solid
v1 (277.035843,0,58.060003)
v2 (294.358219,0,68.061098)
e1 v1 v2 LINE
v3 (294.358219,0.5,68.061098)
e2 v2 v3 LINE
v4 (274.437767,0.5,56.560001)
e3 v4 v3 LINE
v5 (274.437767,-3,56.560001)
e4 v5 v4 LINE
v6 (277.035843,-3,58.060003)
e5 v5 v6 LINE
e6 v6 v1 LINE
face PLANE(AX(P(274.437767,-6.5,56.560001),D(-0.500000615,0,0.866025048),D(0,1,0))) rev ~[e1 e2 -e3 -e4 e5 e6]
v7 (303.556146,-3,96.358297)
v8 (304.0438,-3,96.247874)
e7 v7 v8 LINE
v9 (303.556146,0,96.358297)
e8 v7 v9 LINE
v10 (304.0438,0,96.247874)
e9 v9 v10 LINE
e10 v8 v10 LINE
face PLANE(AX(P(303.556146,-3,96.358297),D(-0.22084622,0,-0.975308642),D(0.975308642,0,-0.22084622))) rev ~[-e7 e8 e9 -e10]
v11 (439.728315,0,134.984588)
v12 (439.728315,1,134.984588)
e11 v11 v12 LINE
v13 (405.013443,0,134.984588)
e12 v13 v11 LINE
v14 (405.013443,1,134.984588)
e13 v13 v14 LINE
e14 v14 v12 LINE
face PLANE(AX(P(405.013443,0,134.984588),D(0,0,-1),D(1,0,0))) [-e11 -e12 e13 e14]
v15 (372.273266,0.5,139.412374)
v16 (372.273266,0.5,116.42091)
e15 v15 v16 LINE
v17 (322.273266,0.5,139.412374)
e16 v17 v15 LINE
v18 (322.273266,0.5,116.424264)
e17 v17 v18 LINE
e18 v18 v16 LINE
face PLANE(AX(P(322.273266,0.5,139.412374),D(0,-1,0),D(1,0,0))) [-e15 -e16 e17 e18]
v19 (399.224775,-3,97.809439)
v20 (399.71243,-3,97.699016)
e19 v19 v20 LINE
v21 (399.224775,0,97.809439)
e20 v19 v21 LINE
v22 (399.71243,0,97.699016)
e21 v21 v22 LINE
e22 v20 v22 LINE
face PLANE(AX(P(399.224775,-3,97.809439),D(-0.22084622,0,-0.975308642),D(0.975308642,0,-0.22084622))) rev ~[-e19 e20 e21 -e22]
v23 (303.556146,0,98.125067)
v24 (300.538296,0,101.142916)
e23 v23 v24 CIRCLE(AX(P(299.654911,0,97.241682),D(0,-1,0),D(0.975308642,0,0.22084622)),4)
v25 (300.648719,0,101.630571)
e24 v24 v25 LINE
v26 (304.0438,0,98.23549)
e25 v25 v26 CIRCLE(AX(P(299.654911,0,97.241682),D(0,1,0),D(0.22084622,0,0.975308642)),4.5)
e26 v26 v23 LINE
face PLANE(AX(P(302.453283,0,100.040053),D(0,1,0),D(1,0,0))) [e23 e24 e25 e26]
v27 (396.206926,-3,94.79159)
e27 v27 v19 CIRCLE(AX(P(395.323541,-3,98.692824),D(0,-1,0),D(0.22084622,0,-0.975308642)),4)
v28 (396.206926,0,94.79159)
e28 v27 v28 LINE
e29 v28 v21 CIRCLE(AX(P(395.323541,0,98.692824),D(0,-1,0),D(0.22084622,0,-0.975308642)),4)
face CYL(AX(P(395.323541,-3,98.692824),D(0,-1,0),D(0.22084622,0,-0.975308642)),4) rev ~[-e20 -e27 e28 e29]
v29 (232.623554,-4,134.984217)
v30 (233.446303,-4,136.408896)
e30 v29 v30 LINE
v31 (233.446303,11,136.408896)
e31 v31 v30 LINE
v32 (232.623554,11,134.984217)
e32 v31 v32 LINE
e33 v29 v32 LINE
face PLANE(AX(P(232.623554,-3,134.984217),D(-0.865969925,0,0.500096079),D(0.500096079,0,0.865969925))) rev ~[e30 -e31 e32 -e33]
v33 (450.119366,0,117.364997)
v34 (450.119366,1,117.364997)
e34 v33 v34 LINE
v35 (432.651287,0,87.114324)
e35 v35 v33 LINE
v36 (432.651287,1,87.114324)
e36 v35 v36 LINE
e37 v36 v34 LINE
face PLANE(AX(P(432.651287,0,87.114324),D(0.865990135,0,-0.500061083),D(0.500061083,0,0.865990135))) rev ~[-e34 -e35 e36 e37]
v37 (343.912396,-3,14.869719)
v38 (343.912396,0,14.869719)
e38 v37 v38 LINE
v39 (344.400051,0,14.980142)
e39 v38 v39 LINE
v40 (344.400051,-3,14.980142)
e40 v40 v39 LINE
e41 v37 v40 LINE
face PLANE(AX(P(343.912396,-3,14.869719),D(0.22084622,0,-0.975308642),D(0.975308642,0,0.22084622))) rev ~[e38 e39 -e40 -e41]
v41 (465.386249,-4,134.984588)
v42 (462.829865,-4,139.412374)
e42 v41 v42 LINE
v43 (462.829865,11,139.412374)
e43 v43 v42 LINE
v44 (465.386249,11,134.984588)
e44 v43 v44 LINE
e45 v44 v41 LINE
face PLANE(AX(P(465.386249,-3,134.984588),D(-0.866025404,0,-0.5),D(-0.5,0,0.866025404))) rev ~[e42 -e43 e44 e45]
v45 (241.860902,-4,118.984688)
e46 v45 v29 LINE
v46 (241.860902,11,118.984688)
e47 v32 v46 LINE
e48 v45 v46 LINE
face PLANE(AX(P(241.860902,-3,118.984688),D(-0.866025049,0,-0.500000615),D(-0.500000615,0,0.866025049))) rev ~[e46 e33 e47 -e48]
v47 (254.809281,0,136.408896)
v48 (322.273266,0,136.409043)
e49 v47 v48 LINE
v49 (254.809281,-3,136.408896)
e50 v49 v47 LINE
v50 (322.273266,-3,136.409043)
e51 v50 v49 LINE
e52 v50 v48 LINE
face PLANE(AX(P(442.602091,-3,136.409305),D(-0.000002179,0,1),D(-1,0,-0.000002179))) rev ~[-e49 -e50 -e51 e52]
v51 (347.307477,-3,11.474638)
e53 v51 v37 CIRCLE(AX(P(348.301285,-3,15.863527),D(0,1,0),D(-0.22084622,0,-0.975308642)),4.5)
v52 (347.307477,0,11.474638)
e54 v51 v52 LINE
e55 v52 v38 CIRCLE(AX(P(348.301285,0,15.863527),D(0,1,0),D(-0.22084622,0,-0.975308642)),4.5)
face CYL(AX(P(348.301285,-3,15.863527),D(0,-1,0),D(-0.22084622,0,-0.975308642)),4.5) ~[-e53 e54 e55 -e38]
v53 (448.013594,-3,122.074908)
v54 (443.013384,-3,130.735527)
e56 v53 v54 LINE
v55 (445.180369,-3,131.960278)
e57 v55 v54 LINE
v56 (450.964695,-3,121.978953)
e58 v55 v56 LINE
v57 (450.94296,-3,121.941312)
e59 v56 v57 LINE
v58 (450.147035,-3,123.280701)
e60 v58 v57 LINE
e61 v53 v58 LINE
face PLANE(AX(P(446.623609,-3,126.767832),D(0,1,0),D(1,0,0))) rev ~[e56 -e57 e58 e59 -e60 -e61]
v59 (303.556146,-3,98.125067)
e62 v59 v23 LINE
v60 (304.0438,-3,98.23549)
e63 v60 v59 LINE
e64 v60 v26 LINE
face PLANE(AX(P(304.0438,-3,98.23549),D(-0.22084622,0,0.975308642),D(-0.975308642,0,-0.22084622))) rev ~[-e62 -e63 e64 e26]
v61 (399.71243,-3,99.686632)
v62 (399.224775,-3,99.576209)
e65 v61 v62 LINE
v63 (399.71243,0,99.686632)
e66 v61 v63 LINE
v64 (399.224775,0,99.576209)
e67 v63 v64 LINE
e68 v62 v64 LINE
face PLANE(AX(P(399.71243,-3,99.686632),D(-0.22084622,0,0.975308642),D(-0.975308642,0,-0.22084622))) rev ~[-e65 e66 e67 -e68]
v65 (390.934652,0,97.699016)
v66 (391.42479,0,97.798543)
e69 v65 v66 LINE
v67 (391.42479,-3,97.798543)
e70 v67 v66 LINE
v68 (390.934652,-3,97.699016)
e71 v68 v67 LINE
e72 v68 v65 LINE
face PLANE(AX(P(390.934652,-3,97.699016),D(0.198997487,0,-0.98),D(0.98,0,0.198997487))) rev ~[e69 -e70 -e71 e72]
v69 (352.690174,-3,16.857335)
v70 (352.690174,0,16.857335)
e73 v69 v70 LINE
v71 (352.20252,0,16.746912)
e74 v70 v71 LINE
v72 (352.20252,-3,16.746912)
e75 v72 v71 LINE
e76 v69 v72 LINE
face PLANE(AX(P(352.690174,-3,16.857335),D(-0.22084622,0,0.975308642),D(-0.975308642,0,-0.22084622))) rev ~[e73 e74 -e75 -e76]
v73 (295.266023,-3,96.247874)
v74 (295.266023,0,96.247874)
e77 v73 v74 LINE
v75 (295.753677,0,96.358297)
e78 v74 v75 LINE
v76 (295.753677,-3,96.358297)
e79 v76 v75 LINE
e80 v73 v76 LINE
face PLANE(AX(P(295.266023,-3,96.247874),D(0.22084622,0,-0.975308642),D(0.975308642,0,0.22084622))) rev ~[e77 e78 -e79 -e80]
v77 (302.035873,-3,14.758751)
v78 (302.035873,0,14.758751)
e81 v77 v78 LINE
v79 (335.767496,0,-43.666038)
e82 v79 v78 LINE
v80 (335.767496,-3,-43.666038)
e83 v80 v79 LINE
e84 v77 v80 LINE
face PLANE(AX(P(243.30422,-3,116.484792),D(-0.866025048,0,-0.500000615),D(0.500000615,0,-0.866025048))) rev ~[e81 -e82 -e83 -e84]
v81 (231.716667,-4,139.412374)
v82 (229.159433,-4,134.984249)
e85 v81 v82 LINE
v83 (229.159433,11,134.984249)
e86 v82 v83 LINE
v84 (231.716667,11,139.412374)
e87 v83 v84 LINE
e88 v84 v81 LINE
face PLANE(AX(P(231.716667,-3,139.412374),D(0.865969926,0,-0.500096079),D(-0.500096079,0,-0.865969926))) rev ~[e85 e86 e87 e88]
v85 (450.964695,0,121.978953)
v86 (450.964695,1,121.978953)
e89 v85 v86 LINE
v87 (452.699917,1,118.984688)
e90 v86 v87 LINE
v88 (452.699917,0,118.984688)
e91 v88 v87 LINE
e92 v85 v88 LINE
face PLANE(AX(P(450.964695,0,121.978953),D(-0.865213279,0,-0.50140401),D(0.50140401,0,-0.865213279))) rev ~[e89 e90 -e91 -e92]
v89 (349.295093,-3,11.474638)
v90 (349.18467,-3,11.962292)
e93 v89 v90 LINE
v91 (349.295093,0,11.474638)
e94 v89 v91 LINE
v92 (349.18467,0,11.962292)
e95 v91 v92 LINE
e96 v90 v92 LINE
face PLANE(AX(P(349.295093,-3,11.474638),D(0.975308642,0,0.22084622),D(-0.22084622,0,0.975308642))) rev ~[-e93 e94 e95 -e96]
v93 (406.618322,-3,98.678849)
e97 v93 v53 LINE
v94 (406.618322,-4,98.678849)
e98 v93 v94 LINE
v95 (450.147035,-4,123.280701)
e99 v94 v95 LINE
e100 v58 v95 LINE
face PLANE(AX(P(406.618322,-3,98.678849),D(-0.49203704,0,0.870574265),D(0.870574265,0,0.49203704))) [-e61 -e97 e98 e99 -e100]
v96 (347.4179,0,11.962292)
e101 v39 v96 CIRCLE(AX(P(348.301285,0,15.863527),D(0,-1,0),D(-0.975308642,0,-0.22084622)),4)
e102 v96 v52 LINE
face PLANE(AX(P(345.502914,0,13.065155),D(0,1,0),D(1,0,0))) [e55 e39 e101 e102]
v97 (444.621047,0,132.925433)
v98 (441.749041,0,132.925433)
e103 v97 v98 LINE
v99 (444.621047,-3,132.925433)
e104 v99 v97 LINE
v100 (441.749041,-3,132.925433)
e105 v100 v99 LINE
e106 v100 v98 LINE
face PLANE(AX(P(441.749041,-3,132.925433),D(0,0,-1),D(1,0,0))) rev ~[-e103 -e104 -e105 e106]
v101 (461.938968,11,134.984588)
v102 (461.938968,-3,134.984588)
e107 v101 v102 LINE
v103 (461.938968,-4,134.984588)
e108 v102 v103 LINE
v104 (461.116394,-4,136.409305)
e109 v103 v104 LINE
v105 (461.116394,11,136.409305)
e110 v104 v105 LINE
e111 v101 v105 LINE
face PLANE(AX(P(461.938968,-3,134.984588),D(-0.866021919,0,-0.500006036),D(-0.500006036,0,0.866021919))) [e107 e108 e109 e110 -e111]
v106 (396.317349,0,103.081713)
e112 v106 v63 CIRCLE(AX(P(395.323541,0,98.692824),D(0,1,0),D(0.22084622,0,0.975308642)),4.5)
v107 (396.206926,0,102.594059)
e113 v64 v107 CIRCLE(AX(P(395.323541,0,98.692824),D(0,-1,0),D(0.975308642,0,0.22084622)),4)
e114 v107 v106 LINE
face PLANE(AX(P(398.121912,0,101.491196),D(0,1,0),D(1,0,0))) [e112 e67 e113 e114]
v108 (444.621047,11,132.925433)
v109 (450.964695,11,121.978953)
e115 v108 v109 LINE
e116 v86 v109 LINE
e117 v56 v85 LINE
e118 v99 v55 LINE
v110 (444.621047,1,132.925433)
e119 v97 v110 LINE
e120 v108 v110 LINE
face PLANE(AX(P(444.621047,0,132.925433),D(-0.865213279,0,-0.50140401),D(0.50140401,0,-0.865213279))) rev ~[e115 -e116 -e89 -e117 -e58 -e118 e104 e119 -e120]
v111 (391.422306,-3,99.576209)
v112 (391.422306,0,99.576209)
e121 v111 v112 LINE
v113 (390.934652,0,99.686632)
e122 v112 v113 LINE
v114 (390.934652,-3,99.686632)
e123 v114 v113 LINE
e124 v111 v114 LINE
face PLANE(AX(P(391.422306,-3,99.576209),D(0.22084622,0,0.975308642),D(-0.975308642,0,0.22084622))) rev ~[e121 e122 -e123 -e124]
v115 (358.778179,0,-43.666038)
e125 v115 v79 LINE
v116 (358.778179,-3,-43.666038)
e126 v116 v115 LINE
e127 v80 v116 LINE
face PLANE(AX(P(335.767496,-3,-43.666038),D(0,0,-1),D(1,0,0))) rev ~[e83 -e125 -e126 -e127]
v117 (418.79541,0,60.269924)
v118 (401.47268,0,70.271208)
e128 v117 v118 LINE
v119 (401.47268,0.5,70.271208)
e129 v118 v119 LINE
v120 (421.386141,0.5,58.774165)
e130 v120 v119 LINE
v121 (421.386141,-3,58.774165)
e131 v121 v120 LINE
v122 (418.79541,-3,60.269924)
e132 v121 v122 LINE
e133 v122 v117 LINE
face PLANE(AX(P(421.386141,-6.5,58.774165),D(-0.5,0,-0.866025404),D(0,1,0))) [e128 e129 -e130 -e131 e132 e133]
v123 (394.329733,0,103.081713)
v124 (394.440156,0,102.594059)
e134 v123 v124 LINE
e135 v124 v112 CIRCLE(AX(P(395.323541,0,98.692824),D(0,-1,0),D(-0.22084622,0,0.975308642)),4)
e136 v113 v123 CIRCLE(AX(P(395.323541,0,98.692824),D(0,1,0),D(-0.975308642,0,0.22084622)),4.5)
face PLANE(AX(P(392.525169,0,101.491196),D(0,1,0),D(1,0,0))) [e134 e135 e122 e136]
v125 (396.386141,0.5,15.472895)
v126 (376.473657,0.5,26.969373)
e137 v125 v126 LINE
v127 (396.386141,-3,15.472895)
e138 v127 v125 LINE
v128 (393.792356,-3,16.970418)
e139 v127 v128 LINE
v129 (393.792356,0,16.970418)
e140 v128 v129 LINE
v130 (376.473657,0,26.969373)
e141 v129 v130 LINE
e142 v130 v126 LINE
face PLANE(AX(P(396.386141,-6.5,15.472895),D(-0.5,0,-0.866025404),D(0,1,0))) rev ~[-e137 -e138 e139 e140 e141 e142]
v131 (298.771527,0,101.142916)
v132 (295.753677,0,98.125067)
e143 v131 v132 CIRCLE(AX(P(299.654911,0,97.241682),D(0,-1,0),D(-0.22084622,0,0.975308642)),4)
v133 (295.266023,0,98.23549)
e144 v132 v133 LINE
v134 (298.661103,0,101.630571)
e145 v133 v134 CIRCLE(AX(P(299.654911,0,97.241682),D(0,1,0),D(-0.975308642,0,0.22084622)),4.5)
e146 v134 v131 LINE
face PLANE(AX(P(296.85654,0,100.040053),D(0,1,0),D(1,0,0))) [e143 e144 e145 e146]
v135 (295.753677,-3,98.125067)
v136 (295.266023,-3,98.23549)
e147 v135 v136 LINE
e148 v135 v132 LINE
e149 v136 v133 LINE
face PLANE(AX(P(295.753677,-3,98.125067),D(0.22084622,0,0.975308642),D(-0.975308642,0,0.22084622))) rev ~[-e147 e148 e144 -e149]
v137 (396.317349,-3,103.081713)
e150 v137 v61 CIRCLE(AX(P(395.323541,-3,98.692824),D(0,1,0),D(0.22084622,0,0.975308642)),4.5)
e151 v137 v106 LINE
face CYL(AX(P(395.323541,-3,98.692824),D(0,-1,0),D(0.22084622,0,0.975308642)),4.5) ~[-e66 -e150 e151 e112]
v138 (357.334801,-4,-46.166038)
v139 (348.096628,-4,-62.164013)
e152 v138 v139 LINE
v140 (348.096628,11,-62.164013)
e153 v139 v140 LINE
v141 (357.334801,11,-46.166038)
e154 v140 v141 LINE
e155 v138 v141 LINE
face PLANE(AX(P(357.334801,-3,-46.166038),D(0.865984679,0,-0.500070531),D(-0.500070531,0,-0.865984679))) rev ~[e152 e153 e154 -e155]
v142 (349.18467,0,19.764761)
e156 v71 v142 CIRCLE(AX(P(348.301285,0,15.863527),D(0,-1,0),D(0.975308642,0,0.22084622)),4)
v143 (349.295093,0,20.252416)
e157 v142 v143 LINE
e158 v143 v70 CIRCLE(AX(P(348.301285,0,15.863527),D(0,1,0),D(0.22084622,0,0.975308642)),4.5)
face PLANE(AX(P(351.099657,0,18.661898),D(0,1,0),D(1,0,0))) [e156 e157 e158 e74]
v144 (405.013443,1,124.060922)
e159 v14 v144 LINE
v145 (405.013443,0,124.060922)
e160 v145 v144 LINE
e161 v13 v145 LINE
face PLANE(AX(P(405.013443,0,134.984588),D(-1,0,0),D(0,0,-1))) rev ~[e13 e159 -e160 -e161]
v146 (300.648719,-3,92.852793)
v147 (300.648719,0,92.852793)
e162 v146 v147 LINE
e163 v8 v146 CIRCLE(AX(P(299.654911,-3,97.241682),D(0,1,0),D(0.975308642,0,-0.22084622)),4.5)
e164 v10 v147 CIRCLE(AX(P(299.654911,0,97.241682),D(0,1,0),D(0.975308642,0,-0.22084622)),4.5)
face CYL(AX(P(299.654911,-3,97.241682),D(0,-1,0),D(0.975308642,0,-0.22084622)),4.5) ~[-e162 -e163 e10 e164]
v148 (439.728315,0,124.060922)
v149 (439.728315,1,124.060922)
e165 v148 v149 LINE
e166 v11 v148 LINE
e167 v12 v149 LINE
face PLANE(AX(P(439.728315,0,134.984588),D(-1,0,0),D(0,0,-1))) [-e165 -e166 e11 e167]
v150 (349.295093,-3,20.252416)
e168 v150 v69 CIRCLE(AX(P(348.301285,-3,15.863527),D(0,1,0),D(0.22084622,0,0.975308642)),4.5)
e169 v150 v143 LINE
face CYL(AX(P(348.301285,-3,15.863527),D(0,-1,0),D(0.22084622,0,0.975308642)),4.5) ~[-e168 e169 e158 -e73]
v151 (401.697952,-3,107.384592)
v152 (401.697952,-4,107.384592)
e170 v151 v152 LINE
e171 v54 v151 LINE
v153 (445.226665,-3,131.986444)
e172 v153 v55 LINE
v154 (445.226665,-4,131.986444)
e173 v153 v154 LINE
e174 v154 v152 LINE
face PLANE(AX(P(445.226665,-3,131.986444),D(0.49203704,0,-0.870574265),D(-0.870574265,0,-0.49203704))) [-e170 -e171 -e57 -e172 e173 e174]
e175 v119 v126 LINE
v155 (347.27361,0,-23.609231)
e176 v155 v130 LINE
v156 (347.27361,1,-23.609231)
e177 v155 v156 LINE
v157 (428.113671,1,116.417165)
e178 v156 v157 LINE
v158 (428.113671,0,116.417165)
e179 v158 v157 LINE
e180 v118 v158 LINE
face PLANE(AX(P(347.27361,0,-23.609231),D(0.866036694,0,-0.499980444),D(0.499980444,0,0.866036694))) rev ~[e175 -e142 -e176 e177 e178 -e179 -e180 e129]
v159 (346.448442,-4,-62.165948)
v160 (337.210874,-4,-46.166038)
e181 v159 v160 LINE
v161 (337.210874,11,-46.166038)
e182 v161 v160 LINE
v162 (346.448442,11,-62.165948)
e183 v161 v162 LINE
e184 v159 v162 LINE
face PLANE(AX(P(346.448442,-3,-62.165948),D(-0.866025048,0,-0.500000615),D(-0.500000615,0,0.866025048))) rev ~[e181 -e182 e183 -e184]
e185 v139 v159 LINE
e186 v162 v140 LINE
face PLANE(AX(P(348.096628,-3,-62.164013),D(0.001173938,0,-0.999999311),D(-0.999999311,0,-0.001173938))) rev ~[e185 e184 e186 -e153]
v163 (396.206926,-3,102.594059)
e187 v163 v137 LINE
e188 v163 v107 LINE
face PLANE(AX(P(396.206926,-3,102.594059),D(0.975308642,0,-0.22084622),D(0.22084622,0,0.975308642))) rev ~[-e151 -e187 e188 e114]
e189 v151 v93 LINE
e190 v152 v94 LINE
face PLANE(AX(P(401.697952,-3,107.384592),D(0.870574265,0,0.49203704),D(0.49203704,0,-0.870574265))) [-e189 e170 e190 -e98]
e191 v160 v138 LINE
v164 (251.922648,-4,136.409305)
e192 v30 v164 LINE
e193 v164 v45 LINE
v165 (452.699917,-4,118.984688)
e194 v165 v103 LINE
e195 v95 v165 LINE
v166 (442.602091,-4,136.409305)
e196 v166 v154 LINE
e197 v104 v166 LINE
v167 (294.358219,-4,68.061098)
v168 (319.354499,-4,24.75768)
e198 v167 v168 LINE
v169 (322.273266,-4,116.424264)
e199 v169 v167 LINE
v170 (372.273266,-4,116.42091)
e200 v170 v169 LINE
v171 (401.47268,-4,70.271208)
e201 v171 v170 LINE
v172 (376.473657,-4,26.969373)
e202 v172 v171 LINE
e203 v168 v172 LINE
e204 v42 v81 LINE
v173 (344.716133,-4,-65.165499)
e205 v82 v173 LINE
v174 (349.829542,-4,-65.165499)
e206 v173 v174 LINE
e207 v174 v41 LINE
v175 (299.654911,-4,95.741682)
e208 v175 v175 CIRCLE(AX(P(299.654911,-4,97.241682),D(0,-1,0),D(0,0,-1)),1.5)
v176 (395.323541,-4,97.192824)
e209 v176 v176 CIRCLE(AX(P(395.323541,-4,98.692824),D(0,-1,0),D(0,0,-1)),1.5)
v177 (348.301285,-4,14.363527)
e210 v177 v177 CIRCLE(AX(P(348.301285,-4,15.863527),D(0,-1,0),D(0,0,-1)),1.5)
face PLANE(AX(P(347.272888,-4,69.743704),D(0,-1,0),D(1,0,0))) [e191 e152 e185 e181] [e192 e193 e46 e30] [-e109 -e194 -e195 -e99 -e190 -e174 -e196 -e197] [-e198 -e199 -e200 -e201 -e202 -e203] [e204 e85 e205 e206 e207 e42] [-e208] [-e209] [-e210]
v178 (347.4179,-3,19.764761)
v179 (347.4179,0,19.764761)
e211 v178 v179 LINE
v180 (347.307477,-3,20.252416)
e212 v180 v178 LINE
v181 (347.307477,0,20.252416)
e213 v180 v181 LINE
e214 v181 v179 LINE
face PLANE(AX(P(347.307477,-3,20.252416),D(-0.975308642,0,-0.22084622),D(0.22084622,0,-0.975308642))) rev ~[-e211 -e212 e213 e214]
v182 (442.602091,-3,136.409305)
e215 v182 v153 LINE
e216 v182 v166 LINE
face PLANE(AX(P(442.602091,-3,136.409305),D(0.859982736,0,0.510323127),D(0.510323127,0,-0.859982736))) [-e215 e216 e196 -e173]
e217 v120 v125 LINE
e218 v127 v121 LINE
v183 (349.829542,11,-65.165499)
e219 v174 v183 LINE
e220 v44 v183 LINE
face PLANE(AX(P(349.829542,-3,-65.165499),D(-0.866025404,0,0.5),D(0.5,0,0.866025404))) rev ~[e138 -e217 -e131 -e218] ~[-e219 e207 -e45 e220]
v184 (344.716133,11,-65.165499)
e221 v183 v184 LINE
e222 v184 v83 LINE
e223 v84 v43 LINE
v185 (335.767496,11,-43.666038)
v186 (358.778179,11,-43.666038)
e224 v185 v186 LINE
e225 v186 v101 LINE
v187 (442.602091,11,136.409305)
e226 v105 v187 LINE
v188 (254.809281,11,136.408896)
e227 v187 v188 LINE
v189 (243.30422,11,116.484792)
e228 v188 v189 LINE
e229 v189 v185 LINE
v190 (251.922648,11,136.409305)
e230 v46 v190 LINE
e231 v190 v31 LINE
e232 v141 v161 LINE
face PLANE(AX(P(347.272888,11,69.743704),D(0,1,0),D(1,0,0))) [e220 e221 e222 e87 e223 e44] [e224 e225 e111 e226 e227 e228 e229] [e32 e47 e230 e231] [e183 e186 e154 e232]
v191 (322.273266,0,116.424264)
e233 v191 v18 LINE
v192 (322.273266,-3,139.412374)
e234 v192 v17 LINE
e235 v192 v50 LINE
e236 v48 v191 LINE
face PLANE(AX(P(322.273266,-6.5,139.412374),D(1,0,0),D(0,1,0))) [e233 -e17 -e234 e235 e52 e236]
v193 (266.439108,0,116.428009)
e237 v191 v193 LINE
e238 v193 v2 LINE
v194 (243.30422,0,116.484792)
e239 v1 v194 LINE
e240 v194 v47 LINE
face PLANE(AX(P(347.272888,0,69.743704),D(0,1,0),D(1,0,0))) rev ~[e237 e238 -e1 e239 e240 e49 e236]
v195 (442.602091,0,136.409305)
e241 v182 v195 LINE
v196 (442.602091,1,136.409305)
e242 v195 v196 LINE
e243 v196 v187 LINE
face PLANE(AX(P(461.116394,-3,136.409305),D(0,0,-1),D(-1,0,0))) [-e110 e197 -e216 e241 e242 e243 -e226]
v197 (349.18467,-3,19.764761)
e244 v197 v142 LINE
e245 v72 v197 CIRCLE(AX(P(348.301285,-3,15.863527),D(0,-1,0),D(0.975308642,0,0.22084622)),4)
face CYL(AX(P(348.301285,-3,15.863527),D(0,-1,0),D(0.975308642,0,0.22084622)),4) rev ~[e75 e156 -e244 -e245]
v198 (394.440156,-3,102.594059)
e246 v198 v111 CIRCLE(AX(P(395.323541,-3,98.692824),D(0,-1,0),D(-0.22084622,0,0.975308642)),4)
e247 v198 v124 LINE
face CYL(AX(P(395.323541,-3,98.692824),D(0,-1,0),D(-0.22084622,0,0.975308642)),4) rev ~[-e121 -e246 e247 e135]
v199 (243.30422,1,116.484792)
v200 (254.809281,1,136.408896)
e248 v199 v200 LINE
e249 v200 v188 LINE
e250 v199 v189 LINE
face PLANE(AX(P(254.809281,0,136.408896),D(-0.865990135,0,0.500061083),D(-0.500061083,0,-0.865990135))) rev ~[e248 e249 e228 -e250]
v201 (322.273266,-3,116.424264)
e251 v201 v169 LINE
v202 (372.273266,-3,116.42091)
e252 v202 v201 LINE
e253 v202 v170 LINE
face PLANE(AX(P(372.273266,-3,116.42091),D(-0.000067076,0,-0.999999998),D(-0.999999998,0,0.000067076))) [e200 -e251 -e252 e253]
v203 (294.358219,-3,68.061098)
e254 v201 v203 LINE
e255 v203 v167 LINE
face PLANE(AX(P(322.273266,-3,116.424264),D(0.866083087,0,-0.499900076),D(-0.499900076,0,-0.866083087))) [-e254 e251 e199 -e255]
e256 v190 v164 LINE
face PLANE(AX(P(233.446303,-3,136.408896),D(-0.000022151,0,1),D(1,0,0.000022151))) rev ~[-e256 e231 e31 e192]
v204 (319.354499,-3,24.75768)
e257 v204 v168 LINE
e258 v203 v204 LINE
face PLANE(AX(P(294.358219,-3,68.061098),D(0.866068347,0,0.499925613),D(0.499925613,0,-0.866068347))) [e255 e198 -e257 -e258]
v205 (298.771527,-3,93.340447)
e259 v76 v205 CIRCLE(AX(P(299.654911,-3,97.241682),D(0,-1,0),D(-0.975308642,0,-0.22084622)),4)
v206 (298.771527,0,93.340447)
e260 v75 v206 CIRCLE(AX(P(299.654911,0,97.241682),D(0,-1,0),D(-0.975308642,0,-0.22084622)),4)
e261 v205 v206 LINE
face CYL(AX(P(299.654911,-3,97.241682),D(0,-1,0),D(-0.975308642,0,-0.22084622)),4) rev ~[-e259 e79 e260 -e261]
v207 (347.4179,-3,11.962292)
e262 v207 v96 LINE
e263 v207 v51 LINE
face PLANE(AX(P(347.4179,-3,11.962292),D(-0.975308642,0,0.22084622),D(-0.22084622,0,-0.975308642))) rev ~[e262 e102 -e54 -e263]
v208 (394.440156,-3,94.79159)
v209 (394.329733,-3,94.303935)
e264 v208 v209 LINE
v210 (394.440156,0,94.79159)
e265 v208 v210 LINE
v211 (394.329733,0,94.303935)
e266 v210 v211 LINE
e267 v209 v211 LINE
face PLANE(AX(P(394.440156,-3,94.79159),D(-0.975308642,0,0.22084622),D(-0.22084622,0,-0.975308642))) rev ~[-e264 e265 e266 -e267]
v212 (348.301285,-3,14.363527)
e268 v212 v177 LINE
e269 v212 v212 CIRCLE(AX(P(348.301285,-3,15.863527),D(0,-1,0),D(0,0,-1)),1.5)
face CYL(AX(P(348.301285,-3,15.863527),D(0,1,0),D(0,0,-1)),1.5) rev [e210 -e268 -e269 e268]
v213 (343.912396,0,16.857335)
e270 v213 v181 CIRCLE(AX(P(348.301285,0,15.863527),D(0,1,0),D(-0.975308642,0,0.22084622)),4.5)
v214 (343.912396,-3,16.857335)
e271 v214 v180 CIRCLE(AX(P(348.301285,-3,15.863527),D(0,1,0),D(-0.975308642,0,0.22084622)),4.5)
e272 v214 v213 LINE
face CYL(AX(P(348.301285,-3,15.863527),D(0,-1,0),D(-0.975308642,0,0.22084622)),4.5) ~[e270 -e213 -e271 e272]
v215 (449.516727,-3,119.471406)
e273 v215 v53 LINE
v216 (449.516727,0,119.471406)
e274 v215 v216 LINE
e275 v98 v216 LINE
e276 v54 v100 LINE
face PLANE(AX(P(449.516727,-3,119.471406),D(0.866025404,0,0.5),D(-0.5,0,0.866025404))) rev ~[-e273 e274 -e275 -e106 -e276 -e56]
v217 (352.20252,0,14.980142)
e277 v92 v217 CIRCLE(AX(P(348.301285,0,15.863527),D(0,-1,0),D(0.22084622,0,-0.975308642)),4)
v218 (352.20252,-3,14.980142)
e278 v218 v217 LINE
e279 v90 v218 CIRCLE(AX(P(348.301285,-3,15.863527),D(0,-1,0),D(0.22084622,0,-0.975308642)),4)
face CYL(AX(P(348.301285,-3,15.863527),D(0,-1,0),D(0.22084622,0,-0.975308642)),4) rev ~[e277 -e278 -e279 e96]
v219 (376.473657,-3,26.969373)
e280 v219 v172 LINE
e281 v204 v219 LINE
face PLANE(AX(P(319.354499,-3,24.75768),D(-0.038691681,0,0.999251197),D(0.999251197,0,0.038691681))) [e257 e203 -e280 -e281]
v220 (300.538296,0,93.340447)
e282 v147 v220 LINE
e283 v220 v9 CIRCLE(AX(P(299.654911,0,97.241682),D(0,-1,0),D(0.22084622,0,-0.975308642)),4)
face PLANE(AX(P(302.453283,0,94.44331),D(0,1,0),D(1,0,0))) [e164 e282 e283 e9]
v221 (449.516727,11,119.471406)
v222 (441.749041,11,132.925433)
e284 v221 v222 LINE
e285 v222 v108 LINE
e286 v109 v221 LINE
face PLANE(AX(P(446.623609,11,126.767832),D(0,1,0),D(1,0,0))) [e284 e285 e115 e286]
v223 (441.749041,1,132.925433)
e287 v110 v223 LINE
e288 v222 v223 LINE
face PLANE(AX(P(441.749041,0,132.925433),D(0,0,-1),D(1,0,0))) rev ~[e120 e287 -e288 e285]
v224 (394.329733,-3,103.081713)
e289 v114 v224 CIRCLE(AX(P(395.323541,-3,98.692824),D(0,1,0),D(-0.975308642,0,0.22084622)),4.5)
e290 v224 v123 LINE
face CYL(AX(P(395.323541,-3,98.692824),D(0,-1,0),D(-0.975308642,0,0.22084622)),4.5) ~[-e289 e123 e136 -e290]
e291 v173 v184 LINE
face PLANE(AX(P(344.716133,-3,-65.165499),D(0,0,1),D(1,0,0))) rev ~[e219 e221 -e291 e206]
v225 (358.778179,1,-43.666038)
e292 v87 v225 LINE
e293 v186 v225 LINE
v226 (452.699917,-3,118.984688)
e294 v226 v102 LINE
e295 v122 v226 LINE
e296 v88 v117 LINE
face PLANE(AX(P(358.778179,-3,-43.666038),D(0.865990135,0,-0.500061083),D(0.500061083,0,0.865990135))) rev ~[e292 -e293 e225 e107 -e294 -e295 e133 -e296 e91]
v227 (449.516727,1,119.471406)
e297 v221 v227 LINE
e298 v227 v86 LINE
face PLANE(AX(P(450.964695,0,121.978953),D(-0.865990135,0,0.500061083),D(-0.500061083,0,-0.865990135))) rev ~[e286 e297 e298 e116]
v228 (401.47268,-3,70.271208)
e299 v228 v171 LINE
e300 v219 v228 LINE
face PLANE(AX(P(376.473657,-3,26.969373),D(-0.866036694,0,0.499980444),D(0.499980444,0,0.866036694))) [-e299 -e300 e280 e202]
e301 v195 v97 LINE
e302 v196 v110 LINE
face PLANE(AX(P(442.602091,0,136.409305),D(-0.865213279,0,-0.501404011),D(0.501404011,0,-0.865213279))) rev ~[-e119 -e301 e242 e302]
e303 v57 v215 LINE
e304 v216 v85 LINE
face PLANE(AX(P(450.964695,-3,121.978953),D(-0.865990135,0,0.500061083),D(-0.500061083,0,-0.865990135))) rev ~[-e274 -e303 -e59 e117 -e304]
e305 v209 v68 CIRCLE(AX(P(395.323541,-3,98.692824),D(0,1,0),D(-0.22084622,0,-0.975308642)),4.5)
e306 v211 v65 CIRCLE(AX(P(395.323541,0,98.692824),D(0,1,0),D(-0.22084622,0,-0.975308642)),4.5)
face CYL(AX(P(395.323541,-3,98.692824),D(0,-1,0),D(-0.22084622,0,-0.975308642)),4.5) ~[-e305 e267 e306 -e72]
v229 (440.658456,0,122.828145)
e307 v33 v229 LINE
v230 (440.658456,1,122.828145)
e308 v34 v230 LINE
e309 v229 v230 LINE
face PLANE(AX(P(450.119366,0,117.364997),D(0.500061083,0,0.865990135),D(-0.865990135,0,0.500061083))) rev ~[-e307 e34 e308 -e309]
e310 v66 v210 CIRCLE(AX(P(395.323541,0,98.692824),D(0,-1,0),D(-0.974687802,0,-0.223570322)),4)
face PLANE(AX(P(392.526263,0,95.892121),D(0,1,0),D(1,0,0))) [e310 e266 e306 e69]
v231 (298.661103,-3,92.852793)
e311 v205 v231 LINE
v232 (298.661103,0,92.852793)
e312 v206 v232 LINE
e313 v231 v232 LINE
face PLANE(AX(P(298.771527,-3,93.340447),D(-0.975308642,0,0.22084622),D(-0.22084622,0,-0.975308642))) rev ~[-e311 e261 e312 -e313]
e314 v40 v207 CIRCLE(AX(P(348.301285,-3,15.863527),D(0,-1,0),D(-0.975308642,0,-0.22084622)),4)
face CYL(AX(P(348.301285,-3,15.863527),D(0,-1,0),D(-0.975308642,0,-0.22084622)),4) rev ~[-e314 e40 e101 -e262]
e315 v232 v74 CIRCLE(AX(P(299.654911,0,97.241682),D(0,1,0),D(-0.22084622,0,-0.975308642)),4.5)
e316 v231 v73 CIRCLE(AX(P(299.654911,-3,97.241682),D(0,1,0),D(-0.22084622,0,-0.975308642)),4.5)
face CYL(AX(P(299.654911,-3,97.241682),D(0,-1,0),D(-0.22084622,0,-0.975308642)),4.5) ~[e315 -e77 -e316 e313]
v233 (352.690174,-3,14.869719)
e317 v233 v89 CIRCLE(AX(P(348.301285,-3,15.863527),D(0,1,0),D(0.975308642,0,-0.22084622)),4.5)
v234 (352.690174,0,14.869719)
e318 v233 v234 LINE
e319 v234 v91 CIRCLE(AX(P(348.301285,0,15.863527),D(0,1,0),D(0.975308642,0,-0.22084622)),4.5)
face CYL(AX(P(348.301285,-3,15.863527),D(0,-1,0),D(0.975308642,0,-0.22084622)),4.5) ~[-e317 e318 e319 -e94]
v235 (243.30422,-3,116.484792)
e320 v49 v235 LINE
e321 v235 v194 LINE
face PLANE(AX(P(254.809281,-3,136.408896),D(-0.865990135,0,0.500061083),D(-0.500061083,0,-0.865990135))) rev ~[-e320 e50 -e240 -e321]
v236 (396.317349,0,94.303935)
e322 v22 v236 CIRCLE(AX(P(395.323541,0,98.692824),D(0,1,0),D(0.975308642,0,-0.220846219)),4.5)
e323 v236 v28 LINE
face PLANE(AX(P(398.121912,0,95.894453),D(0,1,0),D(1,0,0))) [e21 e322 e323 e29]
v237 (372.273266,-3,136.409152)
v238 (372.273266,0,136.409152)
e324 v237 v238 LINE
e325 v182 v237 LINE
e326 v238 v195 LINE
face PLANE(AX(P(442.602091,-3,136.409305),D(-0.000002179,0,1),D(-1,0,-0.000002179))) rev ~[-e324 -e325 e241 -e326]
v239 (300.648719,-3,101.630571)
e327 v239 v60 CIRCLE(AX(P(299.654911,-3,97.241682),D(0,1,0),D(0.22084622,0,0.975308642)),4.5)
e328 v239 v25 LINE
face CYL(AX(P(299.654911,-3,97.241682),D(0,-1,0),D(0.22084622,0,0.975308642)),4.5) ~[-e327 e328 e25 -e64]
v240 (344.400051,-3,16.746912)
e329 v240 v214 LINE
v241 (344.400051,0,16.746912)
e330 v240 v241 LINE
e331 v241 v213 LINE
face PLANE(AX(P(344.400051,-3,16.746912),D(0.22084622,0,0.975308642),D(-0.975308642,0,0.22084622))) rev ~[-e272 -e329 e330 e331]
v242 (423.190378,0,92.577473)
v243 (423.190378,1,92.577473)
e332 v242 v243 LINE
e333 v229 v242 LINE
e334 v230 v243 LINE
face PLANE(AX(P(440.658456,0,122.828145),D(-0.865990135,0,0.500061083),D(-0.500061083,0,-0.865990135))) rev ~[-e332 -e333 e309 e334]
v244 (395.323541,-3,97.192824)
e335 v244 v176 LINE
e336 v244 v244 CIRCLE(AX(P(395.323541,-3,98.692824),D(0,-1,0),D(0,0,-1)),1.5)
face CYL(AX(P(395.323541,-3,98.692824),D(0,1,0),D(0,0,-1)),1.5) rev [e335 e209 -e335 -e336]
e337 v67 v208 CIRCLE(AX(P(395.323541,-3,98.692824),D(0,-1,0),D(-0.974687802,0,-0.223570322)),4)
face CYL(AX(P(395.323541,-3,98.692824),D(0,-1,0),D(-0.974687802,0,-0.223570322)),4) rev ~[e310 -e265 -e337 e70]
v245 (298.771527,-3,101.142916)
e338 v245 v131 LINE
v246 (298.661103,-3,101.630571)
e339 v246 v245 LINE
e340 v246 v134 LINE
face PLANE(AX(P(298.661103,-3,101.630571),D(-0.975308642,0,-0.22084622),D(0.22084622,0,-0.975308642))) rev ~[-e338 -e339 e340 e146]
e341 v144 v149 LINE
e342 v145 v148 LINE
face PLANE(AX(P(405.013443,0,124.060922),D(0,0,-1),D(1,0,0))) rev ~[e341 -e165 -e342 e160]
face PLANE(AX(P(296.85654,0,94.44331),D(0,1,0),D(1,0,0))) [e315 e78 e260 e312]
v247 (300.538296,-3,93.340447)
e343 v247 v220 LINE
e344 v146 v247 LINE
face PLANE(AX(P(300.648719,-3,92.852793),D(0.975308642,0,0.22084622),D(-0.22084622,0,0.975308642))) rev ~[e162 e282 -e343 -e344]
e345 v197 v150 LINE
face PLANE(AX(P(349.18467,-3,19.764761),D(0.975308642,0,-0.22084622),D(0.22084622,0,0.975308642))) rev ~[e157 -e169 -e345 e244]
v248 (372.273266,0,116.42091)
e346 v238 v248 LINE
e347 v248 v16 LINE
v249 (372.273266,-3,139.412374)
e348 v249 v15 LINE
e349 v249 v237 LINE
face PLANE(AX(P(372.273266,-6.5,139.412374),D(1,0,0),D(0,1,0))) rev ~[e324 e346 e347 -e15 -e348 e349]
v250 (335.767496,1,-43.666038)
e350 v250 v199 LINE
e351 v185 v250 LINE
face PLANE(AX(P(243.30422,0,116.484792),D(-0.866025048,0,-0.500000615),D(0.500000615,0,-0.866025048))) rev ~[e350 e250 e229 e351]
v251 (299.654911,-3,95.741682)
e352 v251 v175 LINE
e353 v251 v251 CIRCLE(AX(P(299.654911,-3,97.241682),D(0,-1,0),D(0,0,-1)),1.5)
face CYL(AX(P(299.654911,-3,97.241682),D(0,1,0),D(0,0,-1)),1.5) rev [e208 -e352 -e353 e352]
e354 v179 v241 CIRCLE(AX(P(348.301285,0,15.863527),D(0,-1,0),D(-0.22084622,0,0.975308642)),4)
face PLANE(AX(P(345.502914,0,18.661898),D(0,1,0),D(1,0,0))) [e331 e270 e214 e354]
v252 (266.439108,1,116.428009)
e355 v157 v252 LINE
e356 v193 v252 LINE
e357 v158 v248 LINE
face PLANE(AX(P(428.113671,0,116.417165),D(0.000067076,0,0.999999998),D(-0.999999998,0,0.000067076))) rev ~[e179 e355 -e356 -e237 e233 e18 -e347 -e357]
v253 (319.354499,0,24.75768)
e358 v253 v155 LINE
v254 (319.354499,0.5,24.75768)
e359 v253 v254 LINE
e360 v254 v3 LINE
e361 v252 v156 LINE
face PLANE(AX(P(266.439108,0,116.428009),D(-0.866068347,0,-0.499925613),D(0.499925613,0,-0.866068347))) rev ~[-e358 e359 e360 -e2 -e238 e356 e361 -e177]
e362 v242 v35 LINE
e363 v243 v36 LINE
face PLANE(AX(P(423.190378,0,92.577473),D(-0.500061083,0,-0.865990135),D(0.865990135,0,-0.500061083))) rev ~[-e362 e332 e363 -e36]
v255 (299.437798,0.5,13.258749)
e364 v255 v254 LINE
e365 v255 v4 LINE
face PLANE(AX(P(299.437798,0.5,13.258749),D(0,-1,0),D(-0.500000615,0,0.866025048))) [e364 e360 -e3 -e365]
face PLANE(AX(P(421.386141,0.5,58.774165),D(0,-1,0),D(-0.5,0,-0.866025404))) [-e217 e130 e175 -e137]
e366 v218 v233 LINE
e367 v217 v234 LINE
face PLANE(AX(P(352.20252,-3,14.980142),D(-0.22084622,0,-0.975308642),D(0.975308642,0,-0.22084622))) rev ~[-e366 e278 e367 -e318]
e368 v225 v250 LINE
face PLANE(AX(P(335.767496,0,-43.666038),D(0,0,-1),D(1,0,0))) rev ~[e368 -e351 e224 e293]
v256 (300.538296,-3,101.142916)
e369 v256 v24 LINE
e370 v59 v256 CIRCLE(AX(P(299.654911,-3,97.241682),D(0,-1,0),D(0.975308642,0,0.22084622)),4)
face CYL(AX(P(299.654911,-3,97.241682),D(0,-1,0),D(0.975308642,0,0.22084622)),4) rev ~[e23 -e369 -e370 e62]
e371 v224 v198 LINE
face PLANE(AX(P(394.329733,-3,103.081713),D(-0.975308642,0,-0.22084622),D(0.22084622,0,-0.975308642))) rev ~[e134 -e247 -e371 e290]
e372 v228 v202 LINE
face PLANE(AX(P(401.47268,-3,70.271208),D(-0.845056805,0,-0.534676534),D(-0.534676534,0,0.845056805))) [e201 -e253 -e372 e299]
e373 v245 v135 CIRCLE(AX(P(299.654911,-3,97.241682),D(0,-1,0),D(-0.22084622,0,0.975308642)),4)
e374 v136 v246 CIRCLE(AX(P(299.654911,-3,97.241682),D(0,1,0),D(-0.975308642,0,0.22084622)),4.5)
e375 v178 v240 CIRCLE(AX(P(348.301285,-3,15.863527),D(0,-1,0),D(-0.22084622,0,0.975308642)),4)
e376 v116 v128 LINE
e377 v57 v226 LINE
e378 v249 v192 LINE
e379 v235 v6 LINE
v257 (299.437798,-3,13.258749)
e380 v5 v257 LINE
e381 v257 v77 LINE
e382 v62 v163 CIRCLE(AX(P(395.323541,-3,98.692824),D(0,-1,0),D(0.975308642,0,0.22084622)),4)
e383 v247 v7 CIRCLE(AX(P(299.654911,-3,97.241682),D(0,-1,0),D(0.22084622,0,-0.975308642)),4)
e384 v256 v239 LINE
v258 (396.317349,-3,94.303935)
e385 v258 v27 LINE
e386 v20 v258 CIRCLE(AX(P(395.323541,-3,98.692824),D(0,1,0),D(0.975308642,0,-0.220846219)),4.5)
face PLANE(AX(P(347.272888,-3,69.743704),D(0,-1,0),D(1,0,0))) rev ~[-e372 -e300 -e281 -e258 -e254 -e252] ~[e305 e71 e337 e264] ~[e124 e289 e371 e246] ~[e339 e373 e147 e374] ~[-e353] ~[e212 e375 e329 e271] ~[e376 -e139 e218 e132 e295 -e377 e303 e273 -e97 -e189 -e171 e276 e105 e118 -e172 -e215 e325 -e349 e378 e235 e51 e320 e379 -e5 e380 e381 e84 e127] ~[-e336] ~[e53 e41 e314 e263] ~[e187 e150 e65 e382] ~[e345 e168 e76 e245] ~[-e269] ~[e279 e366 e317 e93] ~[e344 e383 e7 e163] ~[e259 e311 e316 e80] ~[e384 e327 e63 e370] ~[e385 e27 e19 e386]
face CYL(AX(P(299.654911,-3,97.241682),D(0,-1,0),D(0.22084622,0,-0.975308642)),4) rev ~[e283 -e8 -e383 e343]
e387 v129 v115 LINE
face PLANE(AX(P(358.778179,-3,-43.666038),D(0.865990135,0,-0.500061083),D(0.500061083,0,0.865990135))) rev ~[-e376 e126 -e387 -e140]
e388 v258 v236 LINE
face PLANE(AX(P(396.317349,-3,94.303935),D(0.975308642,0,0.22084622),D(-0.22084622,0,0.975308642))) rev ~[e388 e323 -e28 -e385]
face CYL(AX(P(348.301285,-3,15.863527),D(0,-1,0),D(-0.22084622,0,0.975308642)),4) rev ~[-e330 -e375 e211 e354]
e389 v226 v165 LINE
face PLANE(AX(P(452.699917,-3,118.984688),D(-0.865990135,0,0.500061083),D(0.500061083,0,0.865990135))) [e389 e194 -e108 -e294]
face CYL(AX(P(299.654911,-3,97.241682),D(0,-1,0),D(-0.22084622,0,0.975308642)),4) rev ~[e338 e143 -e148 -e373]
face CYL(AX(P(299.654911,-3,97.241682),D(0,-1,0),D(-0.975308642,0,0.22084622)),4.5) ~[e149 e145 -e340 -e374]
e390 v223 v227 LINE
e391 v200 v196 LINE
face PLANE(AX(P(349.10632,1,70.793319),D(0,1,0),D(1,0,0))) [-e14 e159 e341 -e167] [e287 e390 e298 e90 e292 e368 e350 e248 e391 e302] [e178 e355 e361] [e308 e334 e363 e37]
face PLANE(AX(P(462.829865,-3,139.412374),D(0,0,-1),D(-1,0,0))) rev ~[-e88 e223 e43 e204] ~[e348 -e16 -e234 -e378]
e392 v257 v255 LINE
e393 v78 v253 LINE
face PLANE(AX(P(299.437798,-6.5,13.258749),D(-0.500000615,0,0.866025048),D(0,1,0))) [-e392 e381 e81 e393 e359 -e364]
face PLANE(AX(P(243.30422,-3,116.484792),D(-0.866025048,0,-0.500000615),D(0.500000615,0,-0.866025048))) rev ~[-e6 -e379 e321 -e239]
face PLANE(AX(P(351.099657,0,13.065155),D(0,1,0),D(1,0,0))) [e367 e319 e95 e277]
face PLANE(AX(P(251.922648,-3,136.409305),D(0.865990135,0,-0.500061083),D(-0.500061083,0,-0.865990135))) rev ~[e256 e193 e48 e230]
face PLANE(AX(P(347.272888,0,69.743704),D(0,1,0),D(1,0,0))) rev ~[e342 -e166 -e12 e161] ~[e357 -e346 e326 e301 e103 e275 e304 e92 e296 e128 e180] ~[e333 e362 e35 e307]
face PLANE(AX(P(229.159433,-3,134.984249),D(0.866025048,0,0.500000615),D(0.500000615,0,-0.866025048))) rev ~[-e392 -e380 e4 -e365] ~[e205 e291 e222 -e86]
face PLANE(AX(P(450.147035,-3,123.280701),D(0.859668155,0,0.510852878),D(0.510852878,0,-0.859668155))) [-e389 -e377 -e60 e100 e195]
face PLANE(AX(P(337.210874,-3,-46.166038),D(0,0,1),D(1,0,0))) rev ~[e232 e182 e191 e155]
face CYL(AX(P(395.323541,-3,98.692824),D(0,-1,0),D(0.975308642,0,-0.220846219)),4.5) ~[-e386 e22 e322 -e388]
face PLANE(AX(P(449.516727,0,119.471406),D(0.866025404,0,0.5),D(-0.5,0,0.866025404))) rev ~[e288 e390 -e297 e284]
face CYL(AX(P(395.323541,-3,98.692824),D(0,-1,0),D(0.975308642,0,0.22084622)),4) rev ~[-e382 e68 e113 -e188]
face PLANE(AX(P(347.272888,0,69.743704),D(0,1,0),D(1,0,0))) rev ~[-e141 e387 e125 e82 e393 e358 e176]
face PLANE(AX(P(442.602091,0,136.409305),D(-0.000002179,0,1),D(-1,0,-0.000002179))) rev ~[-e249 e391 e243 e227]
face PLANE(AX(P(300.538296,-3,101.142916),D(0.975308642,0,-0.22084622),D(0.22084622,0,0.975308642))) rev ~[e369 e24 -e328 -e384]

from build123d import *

# Parameters (mm, degrees)
SKETCH1_W                = 34.714871787
SKETCH1_H                = 10.923666426
BOSS_EXTRUDE1_DEPTH      = 1
BOSS_EXTRUDE2_DEPTH      = 11
BOSS_EXTRUDE3_DEPTH      = 5
BOSS_EXTRUDE3_DEPTH_BACK = 3
SKETCH3_W                = 50
SKETCH3_H                = 7
CUT_EXTRUDE3_DEPTH       = 25
SKETCH5_W                = 50
SKETCH5_H                = 7
CUT_EXTRUDE4_DEPTH       = 25
SKETCH6_W                = 50
SKETCH6_H                = 7
CUT_EXTRUDE5_DEPTH       = 25
SKETCH8_R                = 1.5
BOSS_EXTRUDE5_DEPTH      = 1
BOSS_EXTRUDE10_DEPTH     = 3


with BuildPart() as part:
    # Sketch1 → Boss-Extrude1 (new body)
    with BuildSketch(Plane(origin=(0, 0, 0), x_dir=(1, 0, 0), z_dir=(0, 1, 0))):
        Polygon((243.304219775, -116.484791865), (254.809280577, -136.408896137), (442.602090749, -136.409305398), (444.621046679, -132.925433224), (441.749040748, -132.925433224), (449.516726724, -119.471406458), (450.964695298, -121.978953123), (452.699916622, -118.984688018), (358.778179036, 43.666038065), (335.767496284, 43.666038065), align=None)
        with Locations((422.370878913, -129.522754792)):
            Rectangle(SKETCH1_W, SKETCH1_H, mode=Mode.SUBTRACT)
        Polygon((423.190377512, -92.577472767), (432.651287025, -87.114324326), (450.119365975, -117.364996826), (440.658456462, -122.828145267), align=None, mode=Mode.SUBTRACT)
        Polygon((428.113670919, -116.417164681), (266.439108268, -116.428009237), (347.273609729, 23.609230821), align=None, mode=Mode.SUBTRACT)
    extrude(amount=BOSS_EXTRUDE1_DEPTH)

    # Sketch1<9> → Boss-Extrude2 (add)
    # profile 1 of 2: a face of its own
    with BuildSketch(Plane(origin=(0, 0, 0), x_dir=(1, 0, 0), z_dir=(0, 1, 0))):
        Polygon((229.159432548, -134.984249184), (231.716666588, -139.412373829), (462.829865412, -139.412373829), (465.38624875, -134.984588004), (349.829542096, 65.165499075), (344.716133219, 65.165499075), align=None)
        Polygon((251.922647989, -136.409305399), (233.446303401, -136.408896138), (232.62355396, -134.984217357), (241.860901689, -118.984688018), align=None, mode=Mode.SUBTRACT)
        Polygon((442.602090749, -136.409305398), (254.809280577, -136.408896137), (243.304219775, -116.484791865), (335.767496284, 43.666038065), (358.778179036, 43.666038065), (461.938967958, -134.984588006), (461.116393749, -136.409305398), align=None, mode=Mode.SUBTRACT)
        Polygon((348.096628302, 62.164013367), (357.334800991, 46.166038067), (337.210874326, 46.166038067), (346.44844193, 62.165948237), align=None, mode=Mode.SUBTRACT)
    # profile 2 of 2: a face of its own
    with BuildSketch(Plane(origin=(0, 0, 0), x_dir=(1, 0, 0), z_dir=(0, 1, 0))):
        Polygon((441.749040748, -132.925433224), (444.621046679, -132.925433224), (450.964695298, -121.978953123), (449.516726724, -119.471406458), align=None)
    extrude(amount=BOSS_EXTRUDE2_DEPTH)

    # Sketch1<10> → Boss-Extrude3 (add, two sides: drawn at the far end of the back side and taken through both)
    # profile 1 of 2: a face of its own
    with BuildSketch(Plane(origin=(0, 0, 0), x_dir=(1, 0, 0), z_dir=(0, 1, 0)).offset(-BOSS_EXTRUDE3_DEPTH_BACK)):
        Polygon((229.159432548, -134.984249184), (231.716666588, -139.412373829), (462.829865412, -139.412373829), (465.38624875, -134.984588004), (349.829542096, 65.165499075), (344.716133219, 65.165499075), align=None)
        Polygon((251.922647989, -136.409305399), (233.446303401, -136.408896138), (232.62355396, -134.984217357), (241.860901689, -118.984688018), align=None, mode=Mode.SUBTRACT)
        Polygon((442.602090749, -136.409305398), (254.809280577, -136.408896137), (243.304219775, -116.484791865), (335.767496284, 43.666038065), (358.778179036, 43.666038065), (461.938967958, -134.984588006), (461.116393749, -136.409305398), align=None, mode=Mode.SUBTRACT)
        Polygon((348.096628302, 62.164013367), (357.334800991, 46.166038067), (337.210874326, 46.166038067), (346.44844193, 62.165948237), align=None, mode=Mode.SUBTRACT)
    # profile 2 of 2: a face of its own
    with BuildSketch(Plane(origin=(0, 0, 0), x_dir=(1, 0, 0), z_dir=(0, 1, 0)).offset(-BOSS_EXTRUDE3_DEPTH_BACK)):
        Polygon((441.749040748, -132.925433224), (444.621046679, -132.925433224), (450.964695298, -121.978953123), (449.516726724, -119.471406458), align=None)
    extrude(amount=BOSS_EXTRUDE3_DEPTH + BOSS_EXTRUDE3_DEPTH_BACK)

    # Sketch3 → Cut-Extrude3 (cut)
    with BuildSketch(Plane(origin=(290.589645397, 0, -167.772009994), x_dir=(-0.49999999999998745, 0, -0.8660254037844459), z_dir=(0.8660254037844459, 0, -0.49999999999998745))):
        with Locations((-236.592990632, -3)):
            Rectangle(SKETCH3_W, SKETCH3_H)
    extrude(amount=-CUT_EXTRUDE3_DEPTH, mode=Mode.SUBTRACT)

    # Sketch5 → Cut-Extrude4 (cut)
    with BuildSketch(Plane.XY.offset(139.412373829)):
        with Locations((347.273266, -3)):
            Rectangle(SKETCH5_W, SKETCH5_H)
    extrude(amount=-CUT_EXTRUDE4_DEPTH, mode=Mode.SUBTRACT)

    # Sketch6 → Cut-Extrude5 (cut)
    with BuildSketch(Plane(origin=(230.319375798, 0, 132.975171837), x_dir=(-0.5000006154012504, 0, 0.8660250484820695), z_dir=(-0.8660250484820695, 0, -0.5000006154012504))):
        with Locations((-113.236674799, -3)):
            Rectangle(SKETCH6_W, SKETCH6_H)
    extrude(amount=-CUT_EXTRUDE5_DEPTH, mode=Mode.SUBTRACT)

    # Sketch8 → Boss-Extrude5 (add)
    with BuildSketch(Plane.XZ.offset(3)):
        Polygon((349.829542096, -65.165499075), (465.38624875, 134.984588004), (462.829865412, 139.412373829), (231.716666588, 139.412373829), (229.159432548, 134.984249184), (344.716133219, -65.165499075), align=None)
        with Locations((395.323540807, 98.692824234)):
            Circle(SKETCH8_R, mode=Mode.SUBTRACT)
        with Locations((348.301285091, 15.863526629)):
            Circle(SKETCH8_R, mode=Mode.SUBTRACT)
        with Locations((299.654911442, 97.24168178)):
            Circle(SKETCH8_R, mode=Mode.SUBTRACT)
        Polygon((450.14703547, 123.280701064), (452.699916622, 118.984688018), (461.938967958, 134.984588006), (461.116393749, 136.409305398), (442.602090749, 136.409305398), (445.226665069, 131.986443715), (401.697951811, 107.384591709), (406.618322213, 98.678849058), align=None, mode=Mode.SUBTRACT)
        Polygon((322.273266, 116.42426408), (294.358218631, 68.061097964), (319.354499367, 24.757680453), (376.473657316, 26.969372806), (401.47267951, 70.271207531), (372.273266, 116.420910257), align=None, mode=Mode.SUBTRACT)
        Polygon((233.446303401, 136.408896138), (251.922647989, 136.409305399), (241.860901689, 118.984688018), (232.62355396, 134.984217357), align=None, mode=Mode.SUBTRACT)
        Polygon((337.210874326, -46.166038067), (357.334800991, -46.166038067), (348.096628302, -62.164013367), (346.44844193, -62.165948237), align=None, mode=Mode.SUBTRACT)
    extrude(amount=BOSS_EXTRUDE5_DEPTH)

    # Sketch12 → Boss-Extrude10 (add)
    with BuildSketch(Plane(origin=(0, -3, 0), x_dir=(1, 0, 0), z_dir=(0, 1, 0))):
        with BuildLine():
            ThreePointArc((352.690173981, -14.869718639), (351.483265607, -12.681546114), (349.295093082, -11.47463774))
            Line((349.295093081, -11.47463774), (349.184669971, -11.962292061))
            ThreePointArc((349.184669972, -11.962292061), (351.129712216, -13.035099504), (352.20251966, -14.980141749))
            Line((352.202519659, -14.980141749), (352.69017398, -14.869718639))
        make_face()
        with BuildLine():
            Line((347.417900211, -11.962292061), (347.307477101, -11.47463774))
            ThreePointArc((347.307477101, -11.47463774), (345.119304576, -12.681546114), (343.912396202, -14.869718639))
            Line((343.912396203, -14.869718639), (344.400050524, -14.980141749))
            ThreePointArc((344.400050523, -14.980141749), (345.472857967, -13.035099504), (347.417900211, -11.962292061))
        make_face()
        with BuildLine():
            ThreePointArc((349.295093082, -20.252415518), (351.483265607, -19.045507145), (352.690173981, -16.857334619))
            Line((352.69017398, -16.857334619), (352.202519659, -16.746911509))
            ThreePointArc((352.20251966, -16.746911509), (351.129712216, -18.691953754), (349.184669972, -19.764761197))
            Line((349.184669971, -19.764761197), (349.295093081, -20.252415518))
        make_face()
        with BuildLine():
            Line((344.400050524, -16.746911509), (343.912396203, -16.857334619))
            ThreePointArc((343.912396202, -16.857334619), (345.119304576, -19.045507145), (347.307477101, -20.252415518))
            Line((347.307477101, -20.252415518), (347.417900211, -19.764761197))
            ThreePointArc((347.417900211, -19.764761197), (345.472857967, -18.691953754), (344.400050523, -16.746911509))
        make_face()
        with BuildLine():
            Line((394.440155927, -94.791589666), (394.329732817, -94.303935345))
            ThreePointArc((394.329732817, -94.303935345), (392.141560292, -95.510843718), (390.934651918, -97.699016244))
            Line((390.934651918, -97.699016244), (391.4247896, -97.798542945))
            ThreePointArc((391.4247896, -97.798542945), (392.499067689, -95.860448622), (394.440155927, -94.791589666))
        make_face()
        with BuildLine():
            ThreePointArc((399.712429696, -97.699016244), (398.505521323, -95.510843718), (396.317348797, -94.303935345))
            Line((396.317348797, -94.303935345), (396.206925687, -94.791589666))
            ThreePointArc((396.206925687, -94.791589666), (398.151967932, -95.864397109), (399.224775375, -97.809439354))
            Line((399.224775375, -97.809439354), (399.712429696, -97.699016244))
        make_face()
        with BuildLine():
            Line((391.422306239, -99.576209114), (390.934651918, -99.686632224))
            ThreePointArc((390.934651918, -99.686632224), (392.141560292, -101.874804749), (394.329732817, -103.081713123))
            Line((394.329732817, -103.081713122), (394.440155927, -102.594058801))
            ThreePointArc((394.440155927, -102.594058802), (392.495113682, -101.521251358), (391.422306239, -99.576209114))
        make_face()
        with BuildLine():
            ThreePointArc((396.317348797, -103.081713123), (398.505521323, -101.874804749), (399.712429696, -99.686632224))
            Line((399.712429696, -99.686632224), (399.224775375, -99.576209114))
            ThreePointArc((399.224775375, -99.576209114), (398.151967932, -101.521251358), (396.206925687, -102.594058802))
            Line((396.206925687, -102.594058801), (396.317348797, -103.081713122))
        make_face()
        with BuildLine():
            ThreePointArc((298.661103452, -92.852792892), (296.472930927, -94.059701265), (295.266022553, -96.24787379))
            Line((295.266022553, -96.24787379), (295.753676874, -96.3582969))
            ThreePointArc((295.753676874, -96.3582969), (296.826484317, -94.413254656), (298.771526562, -93.340447213))
            Line((298.771526562, -93.340447212), (298.661103452, -92.852792891))
        make_face()
        with BuildLine():
            Line((295.753676874, -98.12506666), (295.266022553, -98.23548977))
            ThreePointArc((295.266022553, -98.23548977), (296.472930927, -100.423662295), (298.661103452, -101.630570669))
            Line((298.661103452, -101.630570669), (298.771526562, -101.142916348))
            ThreePointArc((298.771526562, -101.142916348), (296.826484317, -100.070108905), (295.753676874, -98.12506666))
        make_face()
        with BuildLine():
            ThreePointArc((304.04380033, -96.24787379), (302.836891957, -94.059701265), (300.648719432, -92.852792892))
            Line((300.648719432, -92.852792891), (300.538296322, -93.340447212))
            ThreePointArc((300.538296322, -93.340447213), (302.483338566, -94.413254656), (303.55614601, -96.3582969))
            Line((303.55614601, -96.3582969), (304.043800331, -96.24787379))
        make_face()
        with BuildLine():
            Line((300.538296322, -101.142916348), (300.648719432, -101.630570669))
            ThreePointArc((300.648719432, -101.630570669), (302.836891957, -100.423662295), (304.04380033, -98.23548977))
            Line((304.043800331, -98.23548977), (303.55614601, -98.12506666))
            ThreePointArc((303.55614601, -98.12506666), (302.483338566, -100.070108905), (300.538296322, -101.142916348))
        make_face()
    extrude(amount=BOSS_EXTRUDE10_DEPTH)


solid = part.part
